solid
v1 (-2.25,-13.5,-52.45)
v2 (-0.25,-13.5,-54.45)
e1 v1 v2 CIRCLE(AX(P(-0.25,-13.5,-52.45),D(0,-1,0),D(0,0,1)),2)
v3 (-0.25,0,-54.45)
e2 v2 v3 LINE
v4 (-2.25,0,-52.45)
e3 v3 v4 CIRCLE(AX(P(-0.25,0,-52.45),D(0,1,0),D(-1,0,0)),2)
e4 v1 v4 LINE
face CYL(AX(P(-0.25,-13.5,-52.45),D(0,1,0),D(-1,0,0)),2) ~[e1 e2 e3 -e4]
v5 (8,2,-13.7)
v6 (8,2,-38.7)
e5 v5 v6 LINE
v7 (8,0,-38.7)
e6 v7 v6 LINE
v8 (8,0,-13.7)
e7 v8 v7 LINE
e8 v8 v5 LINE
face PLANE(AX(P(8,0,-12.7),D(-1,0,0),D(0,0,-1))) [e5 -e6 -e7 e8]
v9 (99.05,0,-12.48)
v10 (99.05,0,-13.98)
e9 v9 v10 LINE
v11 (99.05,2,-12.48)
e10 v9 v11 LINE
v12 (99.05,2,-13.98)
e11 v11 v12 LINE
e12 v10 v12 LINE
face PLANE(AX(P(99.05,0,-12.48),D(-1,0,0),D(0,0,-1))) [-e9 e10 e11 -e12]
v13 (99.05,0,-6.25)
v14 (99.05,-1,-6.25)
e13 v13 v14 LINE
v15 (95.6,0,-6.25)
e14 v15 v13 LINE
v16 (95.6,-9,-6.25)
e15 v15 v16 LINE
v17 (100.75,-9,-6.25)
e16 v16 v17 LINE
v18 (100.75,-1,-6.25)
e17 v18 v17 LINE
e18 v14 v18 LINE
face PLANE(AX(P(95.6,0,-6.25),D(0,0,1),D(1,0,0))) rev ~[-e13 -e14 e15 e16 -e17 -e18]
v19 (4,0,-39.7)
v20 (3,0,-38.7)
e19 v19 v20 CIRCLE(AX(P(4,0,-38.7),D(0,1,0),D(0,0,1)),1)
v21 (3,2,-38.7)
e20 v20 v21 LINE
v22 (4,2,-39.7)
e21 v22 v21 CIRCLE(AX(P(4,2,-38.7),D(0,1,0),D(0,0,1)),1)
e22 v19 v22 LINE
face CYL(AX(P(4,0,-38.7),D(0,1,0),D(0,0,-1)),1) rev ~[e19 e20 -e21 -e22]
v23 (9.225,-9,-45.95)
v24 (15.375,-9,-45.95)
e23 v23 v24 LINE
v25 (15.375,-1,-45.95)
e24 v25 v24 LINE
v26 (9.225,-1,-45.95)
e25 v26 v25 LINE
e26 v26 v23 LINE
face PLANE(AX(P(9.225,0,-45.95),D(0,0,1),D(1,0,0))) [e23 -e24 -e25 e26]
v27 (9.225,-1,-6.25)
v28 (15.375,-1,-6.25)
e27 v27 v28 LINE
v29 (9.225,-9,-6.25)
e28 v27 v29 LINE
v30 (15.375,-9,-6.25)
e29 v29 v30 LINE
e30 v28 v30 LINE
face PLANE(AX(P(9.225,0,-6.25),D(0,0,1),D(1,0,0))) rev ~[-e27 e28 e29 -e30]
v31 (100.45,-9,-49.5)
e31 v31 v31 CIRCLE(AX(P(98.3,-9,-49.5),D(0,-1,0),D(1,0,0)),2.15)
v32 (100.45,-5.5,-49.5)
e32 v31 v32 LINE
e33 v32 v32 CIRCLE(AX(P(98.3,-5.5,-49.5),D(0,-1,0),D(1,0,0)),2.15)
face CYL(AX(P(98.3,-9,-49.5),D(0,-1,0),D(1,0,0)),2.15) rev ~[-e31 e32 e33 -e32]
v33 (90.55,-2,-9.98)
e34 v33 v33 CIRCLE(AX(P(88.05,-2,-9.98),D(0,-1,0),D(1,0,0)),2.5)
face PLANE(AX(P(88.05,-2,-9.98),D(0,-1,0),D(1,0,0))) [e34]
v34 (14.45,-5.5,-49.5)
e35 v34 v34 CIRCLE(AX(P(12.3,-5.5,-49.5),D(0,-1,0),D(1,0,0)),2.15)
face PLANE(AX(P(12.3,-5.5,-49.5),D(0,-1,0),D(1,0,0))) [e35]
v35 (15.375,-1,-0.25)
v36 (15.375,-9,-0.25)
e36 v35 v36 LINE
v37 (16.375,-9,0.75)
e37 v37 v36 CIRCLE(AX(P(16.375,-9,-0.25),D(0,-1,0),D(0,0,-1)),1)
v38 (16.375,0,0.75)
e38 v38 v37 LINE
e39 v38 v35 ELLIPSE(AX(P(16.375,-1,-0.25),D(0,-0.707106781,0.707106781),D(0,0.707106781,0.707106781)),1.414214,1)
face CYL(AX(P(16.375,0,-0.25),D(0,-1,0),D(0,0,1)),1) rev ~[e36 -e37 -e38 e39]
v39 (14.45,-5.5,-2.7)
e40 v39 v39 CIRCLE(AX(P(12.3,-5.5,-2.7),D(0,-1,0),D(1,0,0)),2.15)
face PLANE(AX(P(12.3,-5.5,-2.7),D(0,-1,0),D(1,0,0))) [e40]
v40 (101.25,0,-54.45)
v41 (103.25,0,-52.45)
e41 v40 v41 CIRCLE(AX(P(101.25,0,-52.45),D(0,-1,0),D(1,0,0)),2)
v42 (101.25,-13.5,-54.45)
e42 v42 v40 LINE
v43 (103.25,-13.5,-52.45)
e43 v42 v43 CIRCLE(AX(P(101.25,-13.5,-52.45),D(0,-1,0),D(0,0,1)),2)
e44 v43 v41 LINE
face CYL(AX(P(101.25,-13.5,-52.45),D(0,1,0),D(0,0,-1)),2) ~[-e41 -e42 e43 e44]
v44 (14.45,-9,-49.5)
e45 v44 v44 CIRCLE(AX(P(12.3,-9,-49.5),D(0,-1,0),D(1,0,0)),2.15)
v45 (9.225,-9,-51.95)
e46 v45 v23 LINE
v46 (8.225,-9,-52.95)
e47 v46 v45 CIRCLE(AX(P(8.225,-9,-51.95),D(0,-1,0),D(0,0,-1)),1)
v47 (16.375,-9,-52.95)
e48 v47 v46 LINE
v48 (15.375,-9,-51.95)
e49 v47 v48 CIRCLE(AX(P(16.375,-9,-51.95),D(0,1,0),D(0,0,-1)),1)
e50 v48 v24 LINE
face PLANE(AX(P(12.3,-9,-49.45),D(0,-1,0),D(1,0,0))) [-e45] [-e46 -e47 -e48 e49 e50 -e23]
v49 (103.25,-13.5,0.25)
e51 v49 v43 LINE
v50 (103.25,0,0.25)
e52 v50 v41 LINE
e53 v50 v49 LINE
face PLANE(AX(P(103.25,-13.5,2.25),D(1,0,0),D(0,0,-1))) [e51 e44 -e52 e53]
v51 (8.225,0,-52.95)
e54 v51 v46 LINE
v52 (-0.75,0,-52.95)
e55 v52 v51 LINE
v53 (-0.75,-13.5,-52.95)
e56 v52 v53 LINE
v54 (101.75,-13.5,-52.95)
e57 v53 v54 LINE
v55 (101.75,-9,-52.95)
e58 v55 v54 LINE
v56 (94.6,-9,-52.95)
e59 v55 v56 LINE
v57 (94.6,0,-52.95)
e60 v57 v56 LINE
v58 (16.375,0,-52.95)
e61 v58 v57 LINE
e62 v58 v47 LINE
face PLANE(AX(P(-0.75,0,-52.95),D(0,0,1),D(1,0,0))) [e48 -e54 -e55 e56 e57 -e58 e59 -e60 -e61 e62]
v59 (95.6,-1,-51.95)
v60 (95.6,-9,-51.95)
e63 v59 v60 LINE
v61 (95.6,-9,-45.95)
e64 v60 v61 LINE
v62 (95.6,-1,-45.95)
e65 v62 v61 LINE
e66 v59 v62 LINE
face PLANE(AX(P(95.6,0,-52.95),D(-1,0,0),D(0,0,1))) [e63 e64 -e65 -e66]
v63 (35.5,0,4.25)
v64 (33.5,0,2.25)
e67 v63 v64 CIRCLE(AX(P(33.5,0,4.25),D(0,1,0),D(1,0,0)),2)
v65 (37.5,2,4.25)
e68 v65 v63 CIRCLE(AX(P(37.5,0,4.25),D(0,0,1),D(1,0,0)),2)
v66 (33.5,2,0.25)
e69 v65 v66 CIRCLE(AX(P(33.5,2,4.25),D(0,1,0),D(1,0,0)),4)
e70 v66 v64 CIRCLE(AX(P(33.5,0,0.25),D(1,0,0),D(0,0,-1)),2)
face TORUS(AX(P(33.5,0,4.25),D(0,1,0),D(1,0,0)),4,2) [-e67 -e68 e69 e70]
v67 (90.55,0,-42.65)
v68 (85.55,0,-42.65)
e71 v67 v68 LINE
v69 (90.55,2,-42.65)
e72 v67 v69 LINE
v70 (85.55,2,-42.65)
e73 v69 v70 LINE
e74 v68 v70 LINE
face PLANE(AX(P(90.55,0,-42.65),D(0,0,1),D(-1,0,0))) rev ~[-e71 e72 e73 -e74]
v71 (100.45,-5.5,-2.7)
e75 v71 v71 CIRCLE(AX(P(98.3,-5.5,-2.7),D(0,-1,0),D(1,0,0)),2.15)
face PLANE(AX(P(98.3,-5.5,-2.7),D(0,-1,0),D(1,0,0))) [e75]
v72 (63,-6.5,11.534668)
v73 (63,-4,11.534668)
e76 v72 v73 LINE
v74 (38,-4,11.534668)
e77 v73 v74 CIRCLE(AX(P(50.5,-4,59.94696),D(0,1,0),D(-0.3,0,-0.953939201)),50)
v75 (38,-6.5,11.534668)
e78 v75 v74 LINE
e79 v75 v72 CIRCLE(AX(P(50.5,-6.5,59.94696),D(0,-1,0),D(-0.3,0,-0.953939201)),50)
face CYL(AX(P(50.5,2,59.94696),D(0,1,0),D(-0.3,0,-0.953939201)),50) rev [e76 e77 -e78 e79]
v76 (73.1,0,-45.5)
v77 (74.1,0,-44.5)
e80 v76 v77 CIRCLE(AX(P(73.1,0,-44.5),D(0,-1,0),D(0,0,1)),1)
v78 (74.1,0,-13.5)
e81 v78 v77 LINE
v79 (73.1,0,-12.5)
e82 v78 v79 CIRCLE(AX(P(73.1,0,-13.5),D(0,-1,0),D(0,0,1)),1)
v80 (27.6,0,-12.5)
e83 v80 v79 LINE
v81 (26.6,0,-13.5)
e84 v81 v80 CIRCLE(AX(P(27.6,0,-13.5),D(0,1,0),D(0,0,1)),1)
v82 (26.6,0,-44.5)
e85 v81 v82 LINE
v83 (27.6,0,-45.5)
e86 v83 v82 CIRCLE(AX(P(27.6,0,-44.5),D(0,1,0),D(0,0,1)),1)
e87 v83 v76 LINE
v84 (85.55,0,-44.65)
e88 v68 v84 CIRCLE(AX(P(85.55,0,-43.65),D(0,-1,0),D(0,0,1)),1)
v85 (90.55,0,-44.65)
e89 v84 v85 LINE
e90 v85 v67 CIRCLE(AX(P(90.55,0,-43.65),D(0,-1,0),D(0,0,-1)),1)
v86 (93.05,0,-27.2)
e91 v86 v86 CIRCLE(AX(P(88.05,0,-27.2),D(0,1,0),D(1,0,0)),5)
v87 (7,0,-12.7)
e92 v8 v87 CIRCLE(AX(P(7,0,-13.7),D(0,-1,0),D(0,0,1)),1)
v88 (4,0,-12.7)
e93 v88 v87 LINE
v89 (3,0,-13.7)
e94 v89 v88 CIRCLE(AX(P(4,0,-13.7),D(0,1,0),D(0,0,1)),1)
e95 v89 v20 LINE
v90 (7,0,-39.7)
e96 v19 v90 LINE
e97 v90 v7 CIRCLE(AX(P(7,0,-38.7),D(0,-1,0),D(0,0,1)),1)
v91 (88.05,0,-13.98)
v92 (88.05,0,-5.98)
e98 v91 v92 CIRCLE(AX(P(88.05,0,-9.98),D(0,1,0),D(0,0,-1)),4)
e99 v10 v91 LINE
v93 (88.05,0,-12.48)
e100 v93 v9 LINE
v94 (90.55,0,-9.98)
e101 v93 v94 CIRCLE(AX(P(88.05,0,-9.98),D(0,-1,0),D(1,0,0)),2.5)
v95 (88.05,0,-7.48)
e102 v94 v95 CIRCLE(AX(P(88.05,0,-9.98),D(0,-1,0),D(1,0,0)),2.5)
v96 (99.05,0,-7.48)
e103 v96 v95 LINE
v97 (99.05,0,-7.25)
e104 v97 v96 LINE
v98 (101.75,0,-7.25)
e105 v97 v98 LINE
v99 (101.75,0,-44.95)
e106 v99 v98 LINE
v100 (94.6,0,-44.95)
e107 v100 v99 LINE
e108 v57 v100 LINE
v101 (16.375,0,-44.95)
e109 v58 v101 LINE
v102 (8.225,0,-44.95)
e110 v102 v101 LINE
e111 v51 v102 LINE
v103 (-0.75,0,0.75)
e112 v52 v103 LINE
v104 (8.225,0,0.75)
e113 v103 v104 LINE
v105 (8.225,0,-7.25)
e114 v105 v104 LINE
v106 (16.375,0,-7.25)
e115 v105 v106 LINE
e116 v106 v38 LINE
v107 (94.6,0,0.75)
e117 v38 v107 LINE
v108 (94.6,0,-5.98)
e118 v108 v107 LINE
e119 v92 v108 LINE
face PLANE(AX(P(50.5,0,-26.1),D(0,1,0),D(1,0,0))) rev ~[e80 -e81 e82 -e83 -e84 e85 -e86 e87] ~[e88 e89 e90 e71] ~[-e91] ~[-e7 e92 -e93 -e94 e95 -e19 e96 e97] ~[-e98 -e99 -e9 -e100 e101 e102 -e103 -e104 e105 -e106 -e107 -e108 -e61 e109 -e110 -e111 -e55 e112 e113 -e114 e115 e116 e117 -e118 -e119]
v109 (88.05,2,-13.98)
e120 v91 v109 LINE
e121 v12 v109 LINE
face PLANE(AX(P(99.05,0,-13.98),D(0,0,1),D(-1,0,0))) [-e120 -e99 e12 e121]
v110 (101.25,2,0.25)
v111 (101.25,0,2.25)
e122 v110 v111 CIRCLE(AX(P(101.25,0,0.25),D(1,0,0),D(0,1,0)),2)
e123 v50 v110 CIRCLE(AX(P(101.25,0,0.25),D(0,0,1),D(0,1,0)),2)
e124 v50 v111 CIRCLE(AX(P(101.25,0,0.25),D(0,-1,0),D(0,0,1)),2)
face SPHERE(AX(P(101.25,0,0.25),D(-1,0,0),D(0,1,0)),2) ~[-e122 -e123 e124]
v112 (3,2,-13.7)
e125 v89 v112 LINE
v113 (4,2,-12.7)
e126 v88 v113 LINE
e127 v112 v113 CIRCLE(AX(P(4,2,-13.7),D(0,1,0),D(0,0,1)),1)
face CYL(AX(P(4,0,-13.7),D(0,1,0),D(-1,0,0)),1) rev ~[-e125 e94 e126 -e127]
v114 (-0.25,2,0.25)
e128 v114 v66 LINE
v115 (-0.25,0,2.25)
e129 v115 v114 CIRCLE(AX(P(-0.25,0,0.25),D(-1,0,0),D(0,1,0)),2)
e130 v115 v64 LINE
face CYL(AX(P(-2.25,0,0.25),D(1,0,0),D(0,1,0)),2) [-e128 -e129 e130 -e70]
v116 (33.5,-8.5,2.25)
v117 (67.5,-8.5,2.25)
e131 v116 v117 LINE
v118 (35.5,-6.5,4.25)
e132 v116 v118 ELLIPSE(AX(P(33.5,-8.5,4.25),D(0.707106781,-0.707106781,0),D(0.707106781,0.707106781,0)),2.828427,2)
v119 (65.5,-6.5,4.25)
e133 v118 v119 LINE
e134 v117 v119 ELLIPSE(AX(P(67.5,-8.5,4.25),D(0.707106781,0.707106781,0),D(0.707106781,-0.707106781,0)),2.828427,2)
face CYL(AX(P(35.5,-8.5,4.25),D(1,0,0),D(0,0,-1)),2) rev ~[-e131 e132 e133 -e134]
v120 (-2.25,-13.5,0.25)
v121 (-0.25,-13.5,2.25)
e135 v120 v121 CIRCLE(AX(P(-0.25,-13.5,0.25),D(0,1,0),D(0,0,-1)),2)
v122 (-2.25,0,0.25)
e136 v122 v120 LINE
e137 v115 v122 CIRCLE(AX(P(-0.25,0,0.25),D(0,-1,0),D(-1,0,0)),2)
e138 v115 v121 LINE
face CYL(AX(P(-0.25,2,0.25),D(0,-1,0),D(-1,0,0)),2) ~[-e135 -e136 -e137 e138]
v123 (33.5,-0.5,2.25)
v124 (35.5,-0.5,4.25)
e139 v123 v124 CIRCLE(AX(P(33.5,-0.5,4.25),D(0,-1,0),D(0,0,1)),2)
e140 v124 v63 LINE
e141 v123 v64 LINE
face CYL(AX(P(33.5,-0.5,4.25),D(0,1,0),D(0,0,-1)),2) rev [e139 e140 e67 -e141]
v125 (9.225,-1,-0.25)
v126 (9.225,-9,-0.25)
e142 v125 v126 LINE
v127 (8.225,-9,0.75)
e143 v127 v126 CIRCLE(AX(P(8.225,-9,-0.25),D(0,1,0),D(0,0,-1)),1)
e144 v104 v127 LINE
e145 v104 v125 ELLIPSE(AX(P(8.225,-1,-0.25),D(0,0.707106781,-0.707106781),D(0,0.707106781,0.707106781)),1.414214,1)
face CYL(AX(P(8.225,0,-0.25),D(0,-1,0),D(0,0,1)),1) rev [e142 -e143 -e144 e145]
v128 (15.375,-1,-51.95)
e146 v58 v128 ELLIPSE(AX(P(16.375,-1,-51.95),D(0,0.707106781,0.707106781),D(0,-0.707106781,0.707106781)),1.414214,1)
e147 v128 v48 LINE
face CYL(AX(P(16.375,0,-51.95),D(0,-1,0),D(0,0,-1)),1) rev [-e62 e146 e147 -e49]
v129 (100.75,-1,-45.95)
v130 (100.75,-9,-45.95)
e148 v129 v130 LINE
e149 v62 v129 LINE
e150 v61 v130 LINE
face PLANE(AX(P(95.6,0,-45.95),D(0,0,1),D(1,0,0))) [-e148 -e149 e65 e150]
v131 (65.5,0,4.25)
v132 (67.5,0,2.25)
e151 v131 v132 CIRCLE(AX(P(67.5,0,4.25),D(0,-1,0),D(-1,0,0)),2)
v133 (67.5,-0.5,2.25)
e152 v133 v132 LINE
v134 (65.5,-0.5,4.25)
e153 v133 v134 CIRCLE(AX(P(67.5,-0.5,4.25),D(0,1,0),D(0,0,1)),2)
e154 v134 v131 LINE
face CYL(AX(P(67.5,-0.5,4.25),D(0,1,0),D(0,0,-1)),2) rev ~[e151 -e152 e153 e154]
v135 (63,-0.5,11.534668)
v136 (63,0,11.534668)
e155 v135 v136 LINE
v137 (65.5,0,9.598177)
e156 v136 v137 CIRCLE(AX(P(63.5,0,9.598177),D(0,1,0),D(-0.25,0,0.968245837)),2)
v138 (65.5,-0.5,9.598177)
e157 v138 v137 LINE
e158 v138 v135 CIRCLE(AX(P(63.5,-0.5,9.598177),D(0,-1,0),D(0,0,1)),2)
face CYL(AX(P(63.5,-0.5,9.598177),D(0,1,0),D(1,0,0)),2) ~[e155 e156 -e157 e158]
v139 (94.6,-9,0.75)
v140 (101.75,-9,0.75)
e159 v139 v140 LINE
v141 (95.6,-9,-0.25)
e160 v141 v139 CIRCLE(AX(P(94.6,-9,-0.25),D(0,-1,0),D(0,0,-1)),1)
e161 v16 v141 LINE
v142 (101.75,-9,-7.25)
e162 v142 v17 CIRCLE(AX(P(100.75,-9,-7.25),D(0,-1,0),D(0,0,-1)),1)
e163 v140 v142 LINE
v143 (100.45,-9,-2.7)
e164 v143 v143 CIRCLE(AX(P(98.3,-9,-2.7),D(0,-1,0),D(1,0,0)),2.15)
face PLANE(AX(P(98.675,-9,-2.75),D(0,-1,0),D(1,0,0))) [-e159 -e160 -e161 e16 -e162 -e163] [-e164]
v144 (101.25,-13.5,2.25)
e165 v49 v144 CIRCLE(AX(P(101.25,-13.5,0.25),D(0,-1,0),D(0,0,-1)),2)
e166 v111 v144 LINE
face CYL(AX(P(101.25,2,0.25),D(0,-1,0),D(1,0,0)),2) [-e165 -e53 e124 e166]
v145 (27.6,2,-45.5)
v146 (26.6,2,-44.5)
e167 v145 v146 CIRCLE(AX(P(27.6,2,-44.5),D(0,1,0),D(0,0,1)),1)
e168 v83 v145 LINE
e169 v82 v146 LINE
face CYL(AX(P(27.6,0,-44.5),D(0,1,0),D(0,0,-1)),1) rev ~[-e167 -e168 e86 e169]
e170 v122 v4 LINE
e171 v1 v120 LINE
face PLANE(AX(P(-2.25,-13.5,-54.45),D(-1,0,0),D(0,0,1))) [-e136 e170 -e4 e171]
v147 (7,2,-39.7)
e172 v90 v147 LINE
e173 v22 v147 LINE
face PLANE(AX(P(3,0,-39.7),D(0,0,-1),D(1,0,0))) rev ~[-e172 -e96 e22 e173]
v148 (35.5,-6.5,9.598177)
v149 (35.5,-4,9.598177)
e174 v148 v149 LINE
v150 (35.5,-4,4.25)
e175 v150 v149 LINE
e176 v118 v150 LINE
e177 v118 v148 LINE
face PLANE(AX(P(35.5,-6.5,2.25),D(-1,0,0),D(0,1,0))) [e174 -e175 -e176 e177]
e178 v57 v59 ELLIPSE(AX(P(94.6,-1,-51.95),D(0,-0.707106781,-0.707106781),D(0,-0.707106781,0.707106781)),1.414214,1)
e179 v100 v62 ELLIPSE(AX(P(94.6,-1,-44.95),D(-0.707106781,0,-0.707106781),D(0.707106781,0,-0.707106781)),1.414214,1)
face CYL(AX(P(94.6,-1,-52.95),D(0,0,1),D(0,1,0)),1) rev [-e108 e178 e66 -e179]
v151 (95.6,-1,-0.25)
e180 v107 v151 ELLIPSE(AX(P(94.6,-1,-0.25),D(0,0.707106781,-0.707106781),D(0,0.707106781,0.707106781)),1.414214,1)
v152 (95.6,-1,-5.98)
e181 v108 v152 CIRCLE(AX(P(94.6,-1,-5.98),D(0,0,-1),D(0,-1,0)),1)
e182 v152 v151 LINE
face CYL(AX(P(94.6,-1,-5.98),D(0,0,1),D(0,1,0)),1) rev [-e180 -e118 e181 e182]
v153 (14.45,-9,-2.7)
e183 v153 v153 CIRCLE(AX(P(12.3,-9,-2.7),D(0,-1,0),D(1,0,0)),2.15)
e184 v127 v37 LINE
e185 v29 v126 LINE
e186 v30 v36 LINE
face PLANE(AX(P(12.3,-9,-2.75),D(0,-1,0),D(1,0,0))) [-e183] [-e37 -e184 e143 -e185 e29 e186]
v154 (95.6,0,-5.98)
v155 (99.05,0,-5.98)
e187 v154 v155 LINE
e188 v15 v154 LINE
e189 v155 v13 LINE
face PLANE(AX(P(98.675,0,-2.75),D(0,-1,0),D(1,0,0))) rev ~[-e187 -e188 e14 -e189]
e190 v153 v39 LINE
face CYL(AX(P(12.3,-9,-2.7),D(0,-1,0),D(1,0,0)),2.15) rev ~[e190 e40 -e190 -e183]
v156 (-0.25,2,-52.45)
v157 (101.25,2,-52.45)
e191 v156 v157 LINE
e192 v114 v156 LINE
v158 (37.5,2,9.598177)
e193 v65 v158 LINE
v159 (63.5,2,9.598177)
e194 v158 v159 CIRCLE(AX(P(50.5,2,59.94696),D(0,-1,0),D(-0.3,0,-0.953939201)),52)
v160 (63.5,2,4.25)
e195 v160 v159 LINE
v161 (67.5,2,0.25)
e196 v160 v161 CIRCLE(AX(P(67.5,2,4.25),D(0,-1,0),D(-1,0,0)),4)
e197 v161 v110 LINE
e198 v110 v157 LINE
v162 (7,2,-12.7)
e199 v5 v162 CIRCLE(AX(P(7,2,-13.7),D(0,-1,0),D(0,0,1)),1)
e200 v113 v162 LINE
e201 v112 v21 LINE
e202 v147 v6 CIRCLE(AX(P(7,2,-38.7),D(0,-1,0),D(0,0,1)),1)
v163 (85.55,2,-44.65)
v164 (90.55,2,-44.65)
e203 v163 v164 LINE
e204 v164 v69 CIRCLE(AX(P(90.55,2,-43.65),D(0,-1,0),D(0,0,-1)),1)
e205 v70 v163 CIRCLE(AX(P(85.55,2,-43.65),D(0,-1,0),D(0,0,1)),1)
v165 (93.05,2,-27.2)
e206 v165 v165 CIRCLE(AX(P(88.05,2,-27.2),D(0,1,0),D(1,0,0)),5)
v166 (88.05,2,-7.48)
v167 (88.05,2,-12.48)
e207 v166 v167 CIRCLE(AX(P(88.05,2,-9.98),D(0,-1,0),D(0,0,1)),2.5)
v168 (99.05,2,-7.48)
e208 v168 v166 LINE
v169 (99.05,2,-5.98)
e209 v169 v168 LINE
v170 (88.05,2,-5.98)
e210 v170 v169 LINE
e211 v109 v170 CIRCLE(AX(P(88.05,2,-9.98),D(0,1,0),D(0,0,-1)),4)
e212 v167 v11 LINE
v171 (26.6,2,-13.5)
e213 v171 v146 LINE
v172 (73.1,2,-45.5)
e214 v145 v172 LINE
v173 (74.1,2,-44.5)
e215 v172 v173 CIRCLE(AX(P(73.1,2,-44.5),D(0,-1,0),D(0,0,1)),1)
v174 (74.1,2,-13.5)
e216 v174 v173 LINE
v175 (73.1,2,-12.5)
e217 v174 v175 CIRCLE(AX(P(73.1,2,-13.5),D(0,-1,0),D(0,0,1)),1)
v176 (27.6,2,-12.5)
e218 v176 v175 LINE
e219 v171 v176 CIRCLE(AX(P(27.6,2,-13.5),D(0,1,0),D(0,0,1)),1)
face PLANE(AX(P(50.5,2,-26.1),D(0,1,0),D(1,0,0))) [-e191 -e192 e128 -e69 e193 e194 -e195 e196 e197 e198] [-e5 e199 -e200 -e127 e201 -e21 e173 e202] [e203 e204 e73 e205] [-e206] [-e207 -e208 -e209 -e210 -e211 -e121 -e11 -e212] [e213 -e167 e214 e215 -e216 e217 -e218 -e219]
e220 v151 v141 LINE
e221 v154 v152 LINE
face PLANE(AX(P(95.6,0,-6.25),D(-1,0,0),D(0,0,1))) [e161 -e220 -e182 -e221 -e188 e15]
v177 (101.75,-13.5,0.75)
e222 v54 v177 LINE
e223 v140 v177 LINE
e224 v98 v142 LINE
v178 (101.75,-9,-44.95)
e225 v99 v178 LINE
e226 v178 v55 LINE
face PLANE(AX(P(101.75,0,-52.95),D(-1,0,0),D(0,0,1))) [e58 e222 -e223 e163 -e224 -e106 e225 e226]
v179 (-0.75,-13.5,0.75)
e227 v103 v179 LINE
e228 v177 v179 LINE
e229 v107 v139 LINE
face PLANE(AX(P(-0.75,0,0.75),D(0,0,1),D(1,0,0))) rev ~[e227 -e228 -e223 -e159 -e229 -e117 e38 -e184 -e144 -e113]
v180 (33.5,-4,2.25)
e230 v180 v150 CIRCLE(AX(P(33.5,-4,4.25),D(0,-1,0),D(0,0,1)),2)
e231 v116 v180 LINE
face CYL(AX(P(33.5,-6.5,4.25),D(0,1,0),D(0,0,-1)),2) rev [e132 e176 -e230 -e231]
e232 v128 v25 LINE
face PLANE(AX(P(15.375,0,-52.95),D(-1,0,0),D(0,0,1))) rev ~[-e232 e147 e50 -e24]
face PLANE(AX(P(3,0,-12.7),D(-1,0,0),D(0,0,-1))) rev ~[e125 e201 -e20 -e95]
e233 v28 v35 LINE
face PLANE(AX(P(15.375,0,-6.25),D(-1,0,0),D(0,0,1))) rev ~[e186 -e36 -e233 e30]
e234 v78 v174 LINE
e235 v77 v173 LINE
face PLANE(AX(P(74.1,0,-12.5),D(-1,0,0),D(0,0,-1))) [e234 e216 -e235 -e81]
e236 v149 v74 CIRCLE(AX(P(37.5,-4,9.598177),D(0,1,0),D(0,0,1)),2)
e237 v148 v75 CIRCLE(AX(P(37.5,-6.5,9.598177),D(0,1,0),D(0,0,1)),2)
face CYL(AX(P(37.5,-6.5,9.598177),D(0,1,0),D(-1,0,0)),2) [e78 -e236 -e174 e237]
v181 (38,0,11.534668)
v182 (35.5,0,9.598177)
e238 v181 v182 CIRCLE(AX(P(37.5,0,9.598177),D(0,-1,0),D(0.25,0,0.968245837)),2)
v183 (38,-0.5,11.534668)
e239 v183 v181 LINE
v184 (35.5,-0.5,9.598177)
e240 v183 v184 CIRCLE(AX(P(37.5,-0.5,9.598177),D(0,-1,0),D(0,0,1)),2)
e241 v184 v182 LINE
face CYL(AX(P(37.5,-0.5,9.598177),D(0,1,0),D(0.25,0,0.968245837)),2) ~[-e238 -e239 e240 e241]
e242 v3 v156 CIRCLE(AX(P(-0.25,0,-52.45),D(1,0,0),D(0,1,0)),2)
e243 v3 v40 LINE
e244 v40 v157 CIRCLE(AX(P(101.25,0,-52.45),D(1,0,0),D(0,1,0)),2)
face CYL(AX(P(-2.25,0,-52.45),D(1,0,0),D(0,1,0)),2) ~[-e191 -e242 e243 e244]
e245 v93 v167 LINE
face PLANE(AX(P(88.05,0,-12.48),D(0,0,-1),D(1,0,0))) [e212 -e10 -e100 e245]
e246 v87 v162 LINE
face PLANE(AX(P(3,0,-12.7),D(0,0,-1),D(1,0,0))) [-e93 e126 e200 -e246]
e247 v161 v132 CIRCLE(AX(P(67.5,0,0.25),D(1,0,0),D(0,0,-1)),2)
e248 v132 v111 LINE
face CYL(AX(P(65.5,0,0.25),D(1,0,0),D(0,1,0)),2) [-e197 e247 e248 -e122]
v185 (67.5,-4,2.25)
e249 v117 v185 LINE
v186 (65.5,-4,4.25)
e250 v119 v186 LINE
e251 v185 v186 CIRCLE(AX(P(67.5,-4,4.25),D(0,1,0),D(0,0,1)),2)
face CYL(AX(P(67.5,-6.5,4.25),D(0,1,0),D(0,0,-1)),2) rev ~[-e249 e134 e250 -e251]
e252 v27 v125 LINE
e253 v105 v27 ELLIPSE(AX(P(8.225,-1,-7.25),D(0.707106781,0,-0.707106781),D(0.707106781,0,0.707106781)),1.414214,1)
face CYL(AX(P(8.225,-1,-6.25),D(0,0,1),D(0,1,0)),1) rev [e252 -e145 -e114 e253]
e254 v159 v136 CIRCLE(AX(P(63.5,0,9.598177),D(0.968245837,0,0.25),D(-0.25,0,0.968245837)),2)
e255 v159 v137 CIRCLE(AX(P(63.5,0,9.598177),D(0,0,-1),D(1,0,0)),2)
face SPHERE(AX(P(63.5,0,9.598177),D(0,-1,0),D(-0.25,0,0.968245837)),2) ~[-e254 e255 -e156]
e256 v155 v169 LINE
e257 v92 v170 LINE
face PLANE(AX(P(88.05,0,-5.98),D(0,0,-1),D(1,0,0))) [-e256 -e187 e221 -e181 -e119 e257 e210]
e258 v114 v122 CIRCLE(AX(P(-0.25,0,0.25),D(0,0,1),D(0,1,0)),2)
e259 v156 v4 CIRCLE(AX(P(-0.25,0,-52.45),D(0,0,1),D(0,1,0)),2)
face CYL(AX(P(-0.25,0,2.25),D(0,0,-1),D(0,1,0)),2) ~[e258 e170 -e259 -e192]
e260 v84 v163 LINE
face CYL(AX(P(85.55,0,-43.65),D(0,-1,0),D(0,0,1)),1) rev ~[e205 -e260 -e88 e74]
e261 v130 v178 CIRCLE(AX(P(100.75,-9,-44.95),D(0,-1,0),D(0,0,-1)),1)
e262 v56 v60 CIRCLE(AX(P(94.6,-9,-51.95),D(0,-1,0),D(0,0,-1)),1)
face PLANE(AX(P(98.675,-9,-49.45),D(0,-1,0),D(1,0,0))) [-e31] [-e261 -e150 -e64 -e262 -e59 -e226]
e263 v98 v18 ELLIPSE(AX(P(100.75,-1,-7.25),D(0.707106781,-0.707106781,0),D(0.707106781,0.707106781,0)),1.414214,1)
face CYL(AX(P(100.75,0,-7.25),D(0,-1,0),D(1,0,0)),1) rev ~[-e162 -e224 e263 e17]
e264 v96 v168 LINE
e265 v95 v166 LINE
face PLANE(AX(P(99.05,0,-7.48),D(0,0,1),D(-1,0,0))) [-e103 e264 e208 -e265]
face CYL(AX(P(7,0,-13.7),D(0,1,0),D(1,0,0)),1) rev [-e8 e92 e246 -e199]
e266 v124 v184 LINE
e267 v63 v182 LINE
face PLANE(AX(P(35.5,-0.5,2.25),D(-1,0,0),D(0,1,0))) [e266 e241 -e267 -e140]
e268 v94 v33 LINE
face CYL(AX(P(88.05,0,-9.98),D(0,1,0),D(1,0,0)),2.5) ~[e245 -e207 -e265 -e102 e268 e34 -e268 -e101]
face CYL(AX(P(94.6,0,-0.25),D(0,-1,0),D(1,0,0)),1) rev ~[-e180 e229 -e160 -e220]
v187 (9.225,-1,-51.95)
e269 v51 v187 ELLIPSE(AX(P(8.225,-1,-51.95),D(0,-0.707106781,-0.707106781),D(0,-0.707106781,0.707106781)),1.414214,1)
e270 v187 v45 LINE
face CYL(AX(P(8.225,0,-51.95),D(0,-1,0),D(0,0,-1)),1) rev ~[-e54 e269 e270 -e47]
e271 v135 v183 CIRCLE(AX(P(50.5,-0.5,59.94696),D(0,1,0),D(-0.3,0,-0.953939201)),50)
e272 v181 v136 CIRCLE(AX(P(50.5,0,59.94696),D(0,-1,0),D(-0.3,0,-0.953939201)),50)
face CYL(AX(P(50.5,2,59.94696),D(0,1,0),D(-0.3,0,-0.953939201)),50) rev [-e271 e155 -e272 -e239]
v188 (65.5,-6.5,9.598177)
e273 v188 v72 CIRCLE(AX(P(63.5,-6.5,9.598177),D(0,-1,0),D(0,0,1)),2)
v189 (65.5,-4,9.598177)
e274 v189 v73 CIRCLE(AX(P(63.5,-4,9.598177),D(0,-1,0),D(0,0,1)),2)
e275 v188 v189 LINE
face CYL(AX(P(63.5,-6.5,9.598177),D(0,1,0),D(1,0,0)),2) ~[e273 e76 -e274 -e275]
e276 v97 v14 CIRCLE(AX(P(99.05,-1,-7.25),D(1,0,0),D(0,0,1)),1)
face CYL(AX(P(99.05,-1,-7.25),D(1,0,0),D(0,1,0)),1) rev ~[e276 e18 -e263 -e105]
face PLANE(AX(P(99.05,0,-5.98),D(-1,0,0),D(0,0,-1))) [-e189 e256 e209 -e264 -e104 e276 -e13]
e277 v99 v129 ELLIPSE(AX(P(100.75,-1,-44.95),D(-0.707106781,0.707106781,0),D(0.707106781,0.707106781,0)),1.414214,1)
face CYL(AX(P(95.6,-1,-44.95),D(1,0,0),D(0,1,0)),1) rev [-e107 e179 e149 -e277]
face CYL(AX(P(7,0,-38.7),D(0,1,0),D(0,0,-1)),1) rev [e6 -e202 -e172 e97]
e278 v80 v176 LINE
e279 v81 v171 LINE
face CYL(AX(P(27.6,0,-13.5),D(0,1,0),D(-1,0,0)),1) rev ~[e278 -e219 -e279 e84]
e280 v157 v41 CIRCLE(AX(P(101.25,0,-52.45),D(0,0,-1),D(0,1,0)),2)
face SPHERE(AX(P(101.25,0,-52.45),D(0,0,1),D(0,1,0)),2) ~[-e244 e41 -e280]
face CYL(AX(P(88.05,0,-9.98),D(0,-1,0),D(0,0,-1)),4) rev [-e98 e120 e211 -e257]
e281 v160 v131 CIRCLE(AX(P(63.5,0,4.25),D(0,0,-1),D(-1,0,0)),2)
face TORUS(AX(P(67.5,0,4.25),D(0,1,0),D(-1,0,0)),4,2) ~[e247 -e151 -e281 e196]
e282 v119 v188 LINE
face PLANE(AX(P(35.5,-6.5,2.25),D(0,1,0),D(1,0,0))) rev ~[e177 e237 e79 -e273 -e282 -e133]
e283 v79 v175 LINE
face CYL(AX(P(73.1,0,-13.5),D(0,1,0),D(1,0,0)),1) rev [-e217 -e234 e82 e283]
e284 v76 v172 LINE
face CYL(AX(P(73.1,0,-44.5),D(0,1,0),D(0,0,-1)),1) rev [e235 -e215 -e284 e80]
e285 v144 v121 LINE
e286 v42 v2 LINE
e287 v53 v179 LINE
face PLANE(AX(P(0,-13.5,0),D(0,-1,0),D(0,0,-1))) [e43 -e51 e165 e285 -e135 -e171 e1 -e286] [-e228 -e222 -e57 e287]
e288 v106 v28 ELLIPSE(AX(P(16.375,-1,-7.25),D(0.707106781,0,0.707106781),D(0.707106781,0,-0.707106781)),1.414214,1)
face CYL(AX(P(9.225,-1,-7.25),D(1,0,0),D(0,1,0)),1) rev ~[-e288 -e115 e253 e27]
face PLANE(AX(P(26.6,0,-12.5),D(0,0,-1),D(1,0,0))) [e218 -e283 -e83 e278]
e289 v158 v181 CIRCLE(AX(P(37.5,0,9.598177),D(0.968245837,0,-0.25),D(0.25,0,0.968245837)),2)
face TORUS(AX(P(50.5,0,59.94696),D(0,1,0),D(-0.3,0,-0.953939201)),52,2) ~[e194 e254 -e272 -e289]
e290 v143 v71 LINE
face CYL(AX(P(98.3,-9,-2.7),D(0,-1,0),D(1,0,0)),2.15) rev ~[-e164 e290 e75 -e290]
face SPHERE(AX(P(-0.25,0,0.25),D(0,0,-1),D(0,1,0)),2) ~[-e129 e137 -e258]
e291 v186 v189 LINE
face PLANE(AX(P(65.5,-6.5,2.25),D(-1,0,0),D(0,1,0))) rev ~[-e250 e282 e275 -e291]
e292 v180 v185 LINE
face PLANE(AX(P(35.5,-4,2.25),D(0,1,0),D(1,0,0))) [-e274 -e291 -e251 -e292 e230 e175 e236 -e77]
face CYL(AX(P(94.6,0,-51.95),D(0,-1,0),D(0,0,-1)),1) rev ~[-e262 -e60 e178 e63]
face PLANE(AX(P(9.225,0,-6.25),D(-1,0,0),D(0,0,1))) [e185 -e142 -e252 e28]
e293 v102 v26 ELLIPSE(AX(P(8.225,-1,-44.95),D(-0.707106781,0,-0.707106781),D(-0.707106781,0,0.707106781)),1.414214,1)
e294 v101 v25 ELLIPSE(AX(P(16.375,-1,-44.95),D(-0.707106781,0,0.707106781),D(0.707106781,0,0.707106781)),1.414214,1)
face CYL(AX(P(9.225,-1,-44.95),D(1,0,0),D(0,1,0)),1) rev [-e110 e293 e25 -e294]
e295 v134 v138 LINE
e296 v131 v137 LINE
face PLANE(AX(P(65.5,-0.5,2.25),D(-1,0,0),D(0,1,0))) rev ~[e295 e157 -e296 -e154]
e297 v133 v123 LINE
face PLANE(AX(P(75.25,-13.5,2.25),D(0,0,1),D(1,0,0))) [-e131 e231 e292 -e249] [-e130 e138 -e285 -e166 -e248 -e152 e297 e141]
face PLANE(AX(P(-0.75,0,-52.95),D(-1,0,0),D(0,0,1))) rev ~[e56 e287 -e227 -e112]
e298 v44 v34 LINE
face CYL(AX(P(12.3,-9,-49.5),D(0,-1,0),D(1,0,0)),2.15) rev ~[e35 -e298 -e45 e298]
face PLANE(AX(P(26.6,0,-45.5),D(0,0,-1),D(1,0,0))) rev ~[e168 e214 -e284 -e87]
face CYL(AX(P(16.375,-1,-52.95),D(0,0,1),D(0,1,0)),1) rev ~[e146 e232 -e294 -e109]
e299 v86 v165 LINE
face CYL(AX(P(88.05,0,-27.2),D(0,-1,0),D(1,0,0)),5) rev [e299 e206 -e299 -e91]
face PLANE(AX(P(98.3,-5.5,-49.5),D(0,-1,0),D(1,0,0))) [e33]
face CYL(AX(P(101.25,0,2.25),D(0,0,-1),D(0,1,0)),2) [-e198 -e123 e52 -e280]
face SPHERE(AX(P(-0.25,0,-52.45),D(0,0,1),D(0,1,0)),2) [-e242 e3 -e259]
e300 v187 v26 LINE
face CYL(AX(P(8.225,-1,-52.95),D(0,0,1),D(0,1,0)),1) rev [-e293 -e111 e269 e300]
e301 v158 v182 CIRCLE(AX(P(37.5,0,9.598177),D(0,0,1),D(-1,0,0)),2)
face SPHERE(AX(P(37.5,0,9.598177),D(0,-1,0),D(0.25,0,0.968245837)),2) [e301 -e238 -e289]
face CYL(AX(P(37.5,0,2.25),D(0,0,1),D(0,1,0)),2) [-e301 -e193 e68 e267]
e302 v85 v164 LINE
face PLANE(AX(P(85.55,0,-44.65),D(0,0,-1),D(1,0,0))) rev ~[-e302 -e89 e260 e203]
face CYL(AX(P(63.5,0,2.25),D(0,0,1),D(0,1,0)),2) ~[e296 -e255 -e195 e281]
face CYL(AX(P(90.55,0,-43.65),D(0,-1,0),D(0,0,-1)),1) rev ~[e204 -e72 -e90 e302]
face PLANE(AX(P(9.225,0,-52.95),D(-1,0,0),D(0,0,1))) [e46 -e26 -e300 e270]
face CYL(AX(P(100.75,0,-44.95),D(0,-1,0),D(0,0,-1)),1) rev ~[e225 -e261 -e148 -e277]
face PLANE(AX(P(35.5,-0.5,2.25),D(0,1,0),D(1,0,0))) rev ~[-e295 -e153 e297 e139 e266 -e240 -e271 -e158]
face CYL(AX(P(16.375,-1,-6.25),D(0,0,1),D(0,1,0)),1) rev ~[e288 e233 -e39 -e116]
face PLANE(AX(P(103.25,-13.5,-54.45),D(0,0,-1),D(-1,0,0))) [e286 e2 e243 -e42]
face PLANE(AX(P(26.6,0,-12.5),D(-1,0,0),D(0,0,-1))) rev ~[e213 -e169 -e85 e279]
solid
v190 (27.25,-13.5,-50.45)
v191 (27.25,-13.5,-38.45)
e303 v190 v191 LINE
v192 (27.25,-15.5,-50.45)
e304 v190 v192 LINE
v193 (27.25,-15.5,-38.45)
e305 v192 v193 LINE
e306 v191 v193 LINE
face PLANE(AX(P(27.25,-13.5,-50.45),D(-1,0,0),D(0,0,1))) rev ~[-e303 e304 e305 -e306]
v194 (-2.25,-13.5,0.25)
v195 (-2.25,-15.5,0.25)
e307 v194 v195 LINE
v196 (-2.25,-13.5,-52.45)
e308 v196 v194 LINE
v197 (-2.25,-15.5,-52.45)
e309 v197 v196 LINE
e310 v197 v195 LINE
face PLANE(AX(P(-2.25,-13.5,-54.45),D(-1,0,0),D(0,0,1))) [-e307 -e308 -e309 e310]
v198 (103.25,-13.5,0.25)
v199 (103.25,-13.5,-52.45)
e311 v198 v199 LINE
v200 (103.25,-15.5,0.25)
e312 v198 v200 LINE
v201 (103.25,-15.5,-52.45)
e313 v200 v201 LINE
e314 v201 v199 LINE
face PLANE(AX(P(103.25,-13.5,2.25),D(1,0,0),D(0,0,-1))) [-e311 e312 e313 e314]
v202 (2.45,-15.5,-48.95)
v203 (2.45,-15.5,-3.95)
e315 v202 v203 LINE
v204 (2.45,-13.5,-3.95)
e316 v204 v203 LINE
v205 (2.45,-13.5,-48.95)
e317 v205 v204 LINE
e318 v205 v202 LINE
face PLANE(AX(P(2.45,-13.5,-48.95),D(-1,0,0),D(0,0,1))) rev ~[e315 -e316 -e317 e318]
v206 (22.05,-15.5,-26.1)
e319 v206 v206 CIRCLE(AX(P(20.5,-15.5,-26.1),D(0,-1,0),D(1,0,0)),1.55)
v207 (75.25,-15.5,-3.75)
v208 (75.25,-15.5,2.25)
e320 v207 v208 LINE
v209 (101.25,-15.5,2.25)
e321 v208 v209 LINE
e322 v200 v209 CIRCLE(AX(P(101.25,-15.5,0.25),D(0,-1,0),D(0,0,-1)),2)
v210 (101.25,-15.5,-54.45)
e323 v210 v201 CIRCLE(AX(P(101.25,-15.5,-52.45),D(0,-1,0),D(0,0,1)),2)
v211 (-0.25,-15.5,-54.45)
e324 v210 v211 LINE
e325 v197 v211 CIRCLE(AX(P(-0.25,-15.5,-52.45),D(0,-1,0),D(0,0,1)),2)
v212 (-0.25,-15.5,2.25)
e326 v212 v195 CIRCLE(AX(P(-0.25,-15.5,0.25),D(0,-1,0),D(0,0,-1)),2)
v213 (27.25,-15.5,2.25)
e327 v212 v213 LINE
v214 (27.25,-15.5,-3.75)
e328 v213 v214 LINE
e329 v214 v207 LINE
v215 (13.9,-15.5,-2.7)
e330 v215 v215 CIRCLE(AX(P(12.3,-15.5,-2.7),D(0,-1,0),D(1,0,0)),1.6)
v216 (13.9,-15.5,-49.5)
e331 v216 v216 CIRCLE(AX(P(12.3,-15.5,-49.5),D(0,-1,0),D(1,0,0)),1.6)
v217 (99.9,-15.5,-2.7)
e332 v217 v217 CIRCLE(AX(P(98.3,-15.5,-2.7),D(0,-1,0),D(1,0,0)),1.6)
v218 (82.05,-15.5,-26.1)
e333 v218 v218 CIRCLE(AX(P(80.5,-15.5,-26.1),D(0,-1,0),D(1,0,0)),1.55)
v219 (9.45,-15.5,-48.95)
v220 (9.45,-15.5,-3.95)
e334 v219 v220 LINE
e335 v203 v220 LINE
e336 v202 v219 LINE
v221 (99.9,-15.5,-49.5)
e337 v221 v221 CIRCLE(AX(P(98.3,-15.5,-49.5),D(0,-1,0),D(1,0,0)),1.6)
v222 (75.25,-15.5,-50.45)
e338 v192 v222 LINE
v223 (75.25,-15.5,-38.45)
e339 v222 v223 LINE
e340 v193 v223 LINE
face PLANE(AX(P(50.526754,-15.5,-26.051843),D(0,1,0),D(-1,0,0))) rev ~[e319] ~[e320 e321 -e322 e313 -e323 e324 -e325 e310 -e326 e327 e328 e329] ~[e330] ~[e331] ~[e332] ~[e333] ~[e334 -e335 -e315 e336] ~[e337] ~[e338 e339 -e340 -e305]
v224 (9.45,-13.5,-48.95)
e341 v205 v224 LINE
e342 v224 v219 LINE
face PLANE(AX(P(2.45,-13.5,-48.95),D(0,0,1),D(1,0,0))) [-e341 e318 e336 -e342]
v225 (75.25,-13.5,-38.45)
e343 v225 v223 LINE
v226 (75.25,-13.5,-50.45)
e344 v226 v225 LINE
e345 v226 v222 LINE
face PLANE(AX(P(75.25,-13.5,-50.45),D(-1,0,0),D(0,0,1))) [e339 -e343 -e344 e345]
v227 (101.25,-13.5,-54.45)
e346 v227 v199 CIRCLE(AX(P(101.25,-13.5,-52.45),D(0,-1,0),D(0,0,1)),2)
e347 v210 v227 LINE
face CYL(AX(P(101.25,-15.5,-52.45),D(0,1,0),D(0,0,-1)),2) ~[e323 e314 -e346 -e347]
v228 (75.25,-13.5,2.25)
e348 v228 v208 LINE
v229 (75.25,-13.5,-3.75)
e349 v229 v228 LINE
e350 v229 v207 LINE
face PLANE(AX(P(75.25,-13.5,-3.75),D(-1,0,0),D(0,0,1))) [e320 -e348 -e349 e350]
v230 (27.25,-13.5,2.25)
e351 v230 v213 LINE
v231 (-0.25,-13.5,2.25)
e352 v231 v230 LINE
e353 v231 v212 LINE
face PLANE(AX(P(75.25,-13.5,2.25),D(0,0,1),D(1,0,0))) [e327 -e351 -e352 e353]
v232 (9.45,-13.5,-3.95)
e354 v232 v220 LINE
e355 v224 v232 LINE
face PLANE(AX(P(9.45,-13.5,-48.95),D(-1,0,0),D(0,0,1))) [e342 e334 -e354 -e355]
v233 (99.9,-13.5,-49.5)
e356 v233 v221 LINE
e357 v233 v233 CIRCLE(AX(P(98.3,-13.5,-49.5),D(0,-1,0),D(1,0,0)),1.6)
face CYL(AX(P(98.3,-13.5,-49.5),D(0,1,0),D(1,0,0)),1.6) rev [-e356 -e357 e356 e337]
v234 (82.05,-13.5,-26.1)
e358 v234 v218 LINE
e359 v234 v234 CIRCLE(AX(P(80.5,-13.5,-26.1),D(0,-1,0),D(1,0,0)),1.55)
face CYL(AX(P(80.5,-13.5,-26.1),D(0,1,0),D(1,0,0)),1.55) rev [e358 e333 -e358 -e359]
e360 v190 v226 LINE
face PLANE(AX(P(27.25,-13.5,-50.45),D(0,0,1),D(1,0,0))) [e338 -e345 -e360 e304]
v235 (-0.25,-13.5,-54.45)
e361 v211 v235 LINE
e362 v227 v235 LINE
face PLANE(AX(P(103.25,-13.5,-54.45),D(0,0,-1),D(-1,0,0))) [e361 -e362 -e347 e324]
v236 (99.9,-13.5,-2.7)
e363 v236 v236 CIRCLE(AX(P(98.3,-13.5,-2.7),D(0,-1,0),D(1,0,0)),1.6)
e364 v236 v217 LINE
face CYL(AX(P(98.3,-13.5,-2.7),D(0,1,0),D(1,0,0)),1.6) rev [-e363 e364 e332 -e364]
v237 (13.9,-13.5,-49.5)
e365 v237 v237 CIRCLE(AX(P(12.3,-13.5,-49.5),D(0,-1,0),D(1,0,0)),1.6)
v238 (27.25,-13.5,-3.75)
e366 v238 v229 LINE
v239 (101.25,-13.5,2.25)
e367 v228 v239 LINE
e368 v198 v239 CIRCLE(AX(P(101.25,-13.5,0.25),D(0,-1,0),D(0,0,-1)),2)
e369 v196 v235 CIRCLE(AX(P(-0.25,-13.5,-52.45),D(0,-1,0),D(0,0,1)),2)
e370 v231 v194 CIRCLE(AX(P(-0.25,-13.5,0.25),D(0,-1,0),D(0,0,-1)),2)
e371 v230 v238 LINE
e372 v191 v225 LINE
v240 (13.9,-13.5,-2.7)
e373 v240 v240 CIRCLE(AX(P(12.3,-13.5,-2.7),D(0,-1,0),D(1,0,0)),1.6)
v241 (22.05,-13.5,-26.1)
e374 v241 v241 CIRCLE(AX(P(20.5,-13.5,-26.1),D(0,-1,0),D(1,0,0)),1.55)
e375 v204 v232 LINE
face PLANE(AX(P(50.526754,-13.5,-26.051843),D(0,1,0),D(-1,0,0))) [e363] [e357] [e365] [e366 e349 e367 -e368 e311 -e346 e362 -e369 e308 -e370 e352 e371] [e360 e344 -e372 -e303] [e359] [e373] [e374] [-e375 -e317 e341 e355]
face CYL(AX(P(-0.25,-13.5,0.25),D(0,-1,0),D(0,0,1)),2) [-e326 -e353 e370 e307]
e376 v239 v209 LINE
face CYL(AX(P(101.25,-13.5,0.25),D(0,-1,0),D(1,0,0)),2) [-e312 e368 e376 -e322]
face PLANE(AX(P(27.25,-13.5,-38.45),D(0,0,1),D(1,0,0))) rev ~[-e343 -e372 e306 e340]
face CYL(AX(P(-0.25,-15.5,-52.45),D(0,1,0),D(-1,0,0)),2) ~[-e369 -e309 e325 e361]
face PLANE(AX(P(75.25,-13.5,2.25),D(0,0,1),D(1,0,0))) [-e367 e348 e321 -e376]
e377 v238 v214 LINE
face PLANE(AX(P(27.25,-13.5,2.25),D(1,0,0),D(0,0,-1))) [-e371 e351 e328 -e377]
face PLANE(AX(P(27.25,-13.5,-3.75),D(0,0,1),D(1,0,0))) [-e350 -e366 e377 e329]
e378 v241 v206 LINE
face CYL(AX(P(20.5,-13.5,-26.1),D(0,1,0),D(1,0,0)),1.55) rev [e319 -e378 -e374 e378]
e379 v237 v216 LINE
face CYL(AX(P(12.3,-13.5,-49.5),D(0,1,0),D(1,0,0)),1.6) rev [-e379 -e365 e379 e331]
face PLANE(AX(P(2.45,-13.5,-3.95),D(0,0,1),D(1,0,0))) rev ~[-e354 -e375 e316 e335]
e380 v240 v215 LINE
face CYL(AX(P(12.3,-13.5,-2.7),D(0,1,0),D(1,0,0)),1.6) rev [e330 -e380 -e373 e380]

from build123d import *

# Parameters (mm, degrees)
CROQUIS1_W               = 105.5
CROQUIS1_H               = 56.7
CROQUIS1_R               = 5
CROQUIS1_W_2             = 47.5
CROQUIS1_H_2             = 33
CROQUIS1_W_3             = 5
CROQUIS1_H_3             = 27
SALIENTE_EXTRUIR1_DEPTH  = 2
CROQUIS5_W               = 105.5
CROQUIS5_H               = 56.7
CROQUIS5_W_2             = 102.5
CROQUIS5_H_2             = 53.7
SALIENTE_EXTRUIR4_DEPTH  = 13.5
CROQUIS6_R               = 1.6
CROQUIS6_R_2             = 1.55
CROQUIS6_W               = 7
CROQUIS6_H               = 45
CROQUIS6_W_2             = 48
CROQUIS6_H_2             = 12
SALIENTE_EXTRUIR5_DEPTH  = 2
CROQUIS8_W               = 6.15
CROQUIS8_H               = 7
SALIENTE_EXTRUIR13_DEPTH = 9
CROQUIS9_R               = 2.15
CORTAR_EXTRUIR2_DEPTH    = 3.5
REDONDEO6_R              = 1
REDONDEO7_R              = 1
CROQUIS10_R              = 2.5
SALIENTE_EXTRUIR14_DEPTH = 2
CROQUIS13_W              = 30
CROQUIS13_H              = 2.5
SALIENTE_EXTRUIR16_DEPTH = 10
CORTAR_EXTRUIR3_DEPTH    = 8.5
REDONDEO8_R              = 2
REDONDEO9_R              = 2


with BuildPart() as part:
    # Croquis1 → Saliente-Extruir1 (new body)
    with BuildSketch(Plane(origin=(0, 0, 0), x_dir=(1, 0, 0), z_dir=(0, 1, 0))):
        with Locations((50.5, 26.1)):
            Rectangle(CROQUIS1_W, CROQUIS1_H)
        with Locations((88.05, 27.2)):
            Circle(CROQUIS1_R, mode=Mode.SUBTRACT)
        with Locations((50.35, 29)):
            Rectangle(CROQUIS1_W_2, CROQUIS1_H_2, mode=Mode.SUBTRACT)
        with Locations((5.5, 26.2)):
            Rectangle(CROQUIS1_W_3, CROQUIS1_H_3, mode=Mode.SUBTRACT)
        with BuildLine():
            Line((88.05, 12.48), (99.05, 12.48))
            Line((99.05, 12.48), (99.05, 13.98))
            Line((99.05, 13.98), (88.05, 13.98))
            ThreePointArc((88.05, 13.98), (84.05, 9.98), (88.05, 5.98))
            Line((88.05, 5.98), (99.05, 5.98))
            Line((99.05, 5.98), (99.05, 7.48))
            Line((99.05, 7.48), (88.05, 7.48))
            ThreePointArc((88.05, 7.48), (85.55, 9.98), (88.05, 12.48))
        make_face(mode=Mode.SUBTRACT)
        with BuildLine():
            Line((90.55, 42.65), (85.55, 42.65))
            ThreePointArc((85.55, 42.65), (84.55, 43.65), (85.55, 44.65))
            Line((85.55, 44.65), (90.55, 44.65))
            ThreePointArc((90.55, 44.65), (91.55, 43.65), (90.55, 42.65))
        make_face(mode=Mode.SUBTRACT)
    extrude(amount=SALIENTE_EXTRUIR1_DEPTH)

    # Croquis5 → Saliente-Extruir4 (add)
    with BuildSketch(Plane.XZ):
        with Locations((50.5, -26.1)):
            Rectangle(CROQUIS5_W, CROQUIS5_H)
        with Locations((50.5, -26.1)):
            Rectangle(CROQUIS5_W_2, CROQUIS5_H_2, mode=Mode.SUBTRACT)
    extrude(amount=SALIENTE_EXTRUIR4_DEPTH)

    # Croquis6 → Saliente-Extruir5 (add)
    with BuildSketch(Plane.XZ.offset(13.5)):
        Polygon((103.25, 2.25), (103.25, -54.45), (-2.25, -54.45), (-2.25, 2.25), (27.25, 2.25), (27.25, -3.75), (75.25, -3.75), (75.25, 2.25), align=None)
        with Locations((12.3, -49.5)):
            Circle(CROQUIS6_R, mode=Mode.SUBTRACT)
        with Locations((98.3, -2.7)):
            Circle(CROQUIS6_R, mode=Mode.SUBTRACT)
        with Locations((98.3, -49.5)):
            Circle(CROQUIS6_R, mode=Mode.SUBTRACT)
        with Locations((12.3, -2.7)):
            Circle(CROQUIS6_R, mode=Mode.SUBTRACT)
        with Locations((80.5, -26.1)):
            Circle(CROQUIS6_R_2, mode=Mode.SUBTRACT)
        with Locations((20.5, -26.1)):
            Circle(CROQUIS6_R_2, mode=Mode.SUBTRACT)
        with Locations((5.95, -26.45)):
            Rectangle(CROQUIS6_W, CROQUIS6_H, mode=Mode.SUBTRACT)
        with Locations((51.25, -44.45)):
            Rectangle(CROQUIS6_W_2, CROQUIS6_H_2, mode=Mode.SUBTRACT)
    extrude(amount=SALIENTE_EXTRUIR5_DEPTH)

    # Croquis8 → Saliente-Extruir13 (add)
    with BuildSketch(Plane.XZ):
        with Locations((12.3, -2.75)):
            Rectangle(CROQUIS8_W, CROQUIS8_H)
        with Locations((98.675, -2.75)):
            Rectangle(CROQUIS8_W, CROQUIS8_H)
        with Locations((12.3, -49.45)):
            Rectangle(CROQUIS8_W, CROQUIS8_H)
        with Locations((98.675, -49.45)):
            Rectangle(CROQUIS8_W, CROQUIS8_H)
    extrude(amount=SALIENTE_EXTRUIR13_DEPTH)

    # Croquis9 → Cortar-Extruir2 (cut)
    with BuildSketch(Plane.XZ.offset(9)):
        with Locations((12.3, -2.7)):
            Circle(CROQUIS9_R)
        with Locations((98.3, -2.7)):
            Circle(CROQUIS9_R)
        with Locations((98.3, -49.5)):
            Circle(CROQUIS9_R)
        with Locations((12.3, -49.5)):
            Circle(CROQUIS9_R)
    extrude(amount=-CORTAR_EXTRUIR2_DEPTH, mode=Mode.SUBTRACT)


with BuildPart() as body_2:
    # Partir1: the piece on the far side of the plane
    add(part.part)
    split(bisect_by=Plane(origin=(0, -13.5, 0), x_dir=(0, 0, -1), z_dir=(0, -1, 0)), keep=Keep.BOTTOM)

    # Redondeo6
    redondeo6_edges = [body_2.edges().sort_by_distance(p)[0] for p in [
        (3, 1, -39.7),
        (8, 1, -39.7),
        (8, 1, -12.7),
        (3, 1, -12.7),
        (26.6, 1, -45.5),
        (74.1, 1, -45.5),
        (74.1, 1, -12.5),
        (26.6, 1, -12.5),
    ]]
    fillet(redondeo6_edges, radius=REDONDEO6_R)

    # Redondeo7
    redondeo7_edges = [body_2.edges().sort_by_distance(p)[0] for p in [
        (95.6, 0, -2.615),
        (100.4, 0, -6.25),
        (101.75, -4.5, -6.25),
        (95.6, -4.5, 0.75),
        (98.675, 0, -45.95),
        (95.6, 0, -49.45),
        (95.6, -4.5, -52.95),
        (101.75, -4.5, -45.95),
        (9.225, 0, -49.45),
        (15.375, 0, -49.45),
        (12.3, 0, -45.95),
        (15.375, -4.5, -52.95),
        (9.225, -4.5, -52.95),
        (9.225, 0, -2.75),
        (12.3, 0, -6.25),
        (15.375, 0, -2.75),
        (15.375, -4.5, 0.75),
        (9.225, -4.5, 0.75),
    ]]
    fillet(redondeo7_edges, radius=REDONDEO7_R)

    # Croquis10 → Saliente-Extruir14 (add)
    with BuildSketch(Plane.XZ):
        with Locations((88.05, -9.98)):
            Circle(CROQUIS10_R)
    extrude(amount=SALIENTE_EXTRUIR14_DEPTH)

    # Croquis13 → Saliente-Extruir16 (add)
    with BuildSketch(Plane.XY.offset(2.25)):
        with Locations((50.5, 0.75)):
            Rectangle(CROQUIS13_W, CROQUIS13_H)
        with Locations((50.5, -5.25)):
            Rectangle(CROQUIS13_W, CROQUIS13_H)
    extrude(amount=SALIENTE_EXTRUIR16_DEPTH)

    # Croquis14 → Cortar-Extruir3 (cut)
    with BuildSketch(Plane(origin=(0, 2, 0), x_dir=(1, 0, 0), z_dir=(0, 1, 0))):
        with BuildLine():
            Line((65.5, -12.25), (35.5, -12.25))
            ThreePointArc((35.5, -12.25), (50.5, -9.946960071), (65.5, -12.25))
        make_face()
    extrude(amount=-CORTAR_EXTRUIR3_DEPTH, mode=Mode.SUBTRACT)

    # Redondeo8
    redondeo8_edges = [body_2.edges().sort_by_distance(p)[0] for p in [
        (84.375, 2, 2.25),
        (35.5, 0.75, 2.25),
        (35.5, 2, 7.25),
        (65.5, 0.75, 2.25),
        (65.5, 2, 7.25),
        (35.5, 0.75, 12.25),
        (65.5, 0.75, 12.25),
        (35.5, -5.25, 2.25),
        (50.5, -6.5, 2.25),
        (65.5, -5.25, 2.25),
        (35.5, -5.25, 12.25),
        (65.5, -5.25, 12.25),
        (50.5, 2, 9.946960071),
        (-2.25, 2, -26.1),
        (16.625, 2, 2.25),
        (103.25, 2, -26.1),
        (50.5, 2, -54.45),
        (-2.25, -5.75, -54.45),
        (103.25, -5.75, -54.45),
        (103.25, -5.75, 2.25),
        (-2.25, -5.75, 2.25),
    ]]
    fillet(redondeo8_edges, radius=REDONDEO8_R)


with BuildPart() as part_1:
    add(part.part)

    # Partir1
    split(bisect_by=Plane(origin=(0, -13.5, 0), x_dir=(0, 0, -1), z_dir=(0, -1, 0)), keep=Keep.TOP)

    # Redondeo9
    redondeo9_edges = [part_1.edges().sort_by_distance(p)[0] for p in [
        (103.25, -14.5, -54.45),
        (-2.25, -14.5, -54.45),
        (103.25, -14.5, 2.25),
        (-2.25, -14.5, 2.25),
    ]]
    fillet(redondeo9_edges, radius=REDONDEO9_R)


solid = Compound([body_2.part, part_1.part])
